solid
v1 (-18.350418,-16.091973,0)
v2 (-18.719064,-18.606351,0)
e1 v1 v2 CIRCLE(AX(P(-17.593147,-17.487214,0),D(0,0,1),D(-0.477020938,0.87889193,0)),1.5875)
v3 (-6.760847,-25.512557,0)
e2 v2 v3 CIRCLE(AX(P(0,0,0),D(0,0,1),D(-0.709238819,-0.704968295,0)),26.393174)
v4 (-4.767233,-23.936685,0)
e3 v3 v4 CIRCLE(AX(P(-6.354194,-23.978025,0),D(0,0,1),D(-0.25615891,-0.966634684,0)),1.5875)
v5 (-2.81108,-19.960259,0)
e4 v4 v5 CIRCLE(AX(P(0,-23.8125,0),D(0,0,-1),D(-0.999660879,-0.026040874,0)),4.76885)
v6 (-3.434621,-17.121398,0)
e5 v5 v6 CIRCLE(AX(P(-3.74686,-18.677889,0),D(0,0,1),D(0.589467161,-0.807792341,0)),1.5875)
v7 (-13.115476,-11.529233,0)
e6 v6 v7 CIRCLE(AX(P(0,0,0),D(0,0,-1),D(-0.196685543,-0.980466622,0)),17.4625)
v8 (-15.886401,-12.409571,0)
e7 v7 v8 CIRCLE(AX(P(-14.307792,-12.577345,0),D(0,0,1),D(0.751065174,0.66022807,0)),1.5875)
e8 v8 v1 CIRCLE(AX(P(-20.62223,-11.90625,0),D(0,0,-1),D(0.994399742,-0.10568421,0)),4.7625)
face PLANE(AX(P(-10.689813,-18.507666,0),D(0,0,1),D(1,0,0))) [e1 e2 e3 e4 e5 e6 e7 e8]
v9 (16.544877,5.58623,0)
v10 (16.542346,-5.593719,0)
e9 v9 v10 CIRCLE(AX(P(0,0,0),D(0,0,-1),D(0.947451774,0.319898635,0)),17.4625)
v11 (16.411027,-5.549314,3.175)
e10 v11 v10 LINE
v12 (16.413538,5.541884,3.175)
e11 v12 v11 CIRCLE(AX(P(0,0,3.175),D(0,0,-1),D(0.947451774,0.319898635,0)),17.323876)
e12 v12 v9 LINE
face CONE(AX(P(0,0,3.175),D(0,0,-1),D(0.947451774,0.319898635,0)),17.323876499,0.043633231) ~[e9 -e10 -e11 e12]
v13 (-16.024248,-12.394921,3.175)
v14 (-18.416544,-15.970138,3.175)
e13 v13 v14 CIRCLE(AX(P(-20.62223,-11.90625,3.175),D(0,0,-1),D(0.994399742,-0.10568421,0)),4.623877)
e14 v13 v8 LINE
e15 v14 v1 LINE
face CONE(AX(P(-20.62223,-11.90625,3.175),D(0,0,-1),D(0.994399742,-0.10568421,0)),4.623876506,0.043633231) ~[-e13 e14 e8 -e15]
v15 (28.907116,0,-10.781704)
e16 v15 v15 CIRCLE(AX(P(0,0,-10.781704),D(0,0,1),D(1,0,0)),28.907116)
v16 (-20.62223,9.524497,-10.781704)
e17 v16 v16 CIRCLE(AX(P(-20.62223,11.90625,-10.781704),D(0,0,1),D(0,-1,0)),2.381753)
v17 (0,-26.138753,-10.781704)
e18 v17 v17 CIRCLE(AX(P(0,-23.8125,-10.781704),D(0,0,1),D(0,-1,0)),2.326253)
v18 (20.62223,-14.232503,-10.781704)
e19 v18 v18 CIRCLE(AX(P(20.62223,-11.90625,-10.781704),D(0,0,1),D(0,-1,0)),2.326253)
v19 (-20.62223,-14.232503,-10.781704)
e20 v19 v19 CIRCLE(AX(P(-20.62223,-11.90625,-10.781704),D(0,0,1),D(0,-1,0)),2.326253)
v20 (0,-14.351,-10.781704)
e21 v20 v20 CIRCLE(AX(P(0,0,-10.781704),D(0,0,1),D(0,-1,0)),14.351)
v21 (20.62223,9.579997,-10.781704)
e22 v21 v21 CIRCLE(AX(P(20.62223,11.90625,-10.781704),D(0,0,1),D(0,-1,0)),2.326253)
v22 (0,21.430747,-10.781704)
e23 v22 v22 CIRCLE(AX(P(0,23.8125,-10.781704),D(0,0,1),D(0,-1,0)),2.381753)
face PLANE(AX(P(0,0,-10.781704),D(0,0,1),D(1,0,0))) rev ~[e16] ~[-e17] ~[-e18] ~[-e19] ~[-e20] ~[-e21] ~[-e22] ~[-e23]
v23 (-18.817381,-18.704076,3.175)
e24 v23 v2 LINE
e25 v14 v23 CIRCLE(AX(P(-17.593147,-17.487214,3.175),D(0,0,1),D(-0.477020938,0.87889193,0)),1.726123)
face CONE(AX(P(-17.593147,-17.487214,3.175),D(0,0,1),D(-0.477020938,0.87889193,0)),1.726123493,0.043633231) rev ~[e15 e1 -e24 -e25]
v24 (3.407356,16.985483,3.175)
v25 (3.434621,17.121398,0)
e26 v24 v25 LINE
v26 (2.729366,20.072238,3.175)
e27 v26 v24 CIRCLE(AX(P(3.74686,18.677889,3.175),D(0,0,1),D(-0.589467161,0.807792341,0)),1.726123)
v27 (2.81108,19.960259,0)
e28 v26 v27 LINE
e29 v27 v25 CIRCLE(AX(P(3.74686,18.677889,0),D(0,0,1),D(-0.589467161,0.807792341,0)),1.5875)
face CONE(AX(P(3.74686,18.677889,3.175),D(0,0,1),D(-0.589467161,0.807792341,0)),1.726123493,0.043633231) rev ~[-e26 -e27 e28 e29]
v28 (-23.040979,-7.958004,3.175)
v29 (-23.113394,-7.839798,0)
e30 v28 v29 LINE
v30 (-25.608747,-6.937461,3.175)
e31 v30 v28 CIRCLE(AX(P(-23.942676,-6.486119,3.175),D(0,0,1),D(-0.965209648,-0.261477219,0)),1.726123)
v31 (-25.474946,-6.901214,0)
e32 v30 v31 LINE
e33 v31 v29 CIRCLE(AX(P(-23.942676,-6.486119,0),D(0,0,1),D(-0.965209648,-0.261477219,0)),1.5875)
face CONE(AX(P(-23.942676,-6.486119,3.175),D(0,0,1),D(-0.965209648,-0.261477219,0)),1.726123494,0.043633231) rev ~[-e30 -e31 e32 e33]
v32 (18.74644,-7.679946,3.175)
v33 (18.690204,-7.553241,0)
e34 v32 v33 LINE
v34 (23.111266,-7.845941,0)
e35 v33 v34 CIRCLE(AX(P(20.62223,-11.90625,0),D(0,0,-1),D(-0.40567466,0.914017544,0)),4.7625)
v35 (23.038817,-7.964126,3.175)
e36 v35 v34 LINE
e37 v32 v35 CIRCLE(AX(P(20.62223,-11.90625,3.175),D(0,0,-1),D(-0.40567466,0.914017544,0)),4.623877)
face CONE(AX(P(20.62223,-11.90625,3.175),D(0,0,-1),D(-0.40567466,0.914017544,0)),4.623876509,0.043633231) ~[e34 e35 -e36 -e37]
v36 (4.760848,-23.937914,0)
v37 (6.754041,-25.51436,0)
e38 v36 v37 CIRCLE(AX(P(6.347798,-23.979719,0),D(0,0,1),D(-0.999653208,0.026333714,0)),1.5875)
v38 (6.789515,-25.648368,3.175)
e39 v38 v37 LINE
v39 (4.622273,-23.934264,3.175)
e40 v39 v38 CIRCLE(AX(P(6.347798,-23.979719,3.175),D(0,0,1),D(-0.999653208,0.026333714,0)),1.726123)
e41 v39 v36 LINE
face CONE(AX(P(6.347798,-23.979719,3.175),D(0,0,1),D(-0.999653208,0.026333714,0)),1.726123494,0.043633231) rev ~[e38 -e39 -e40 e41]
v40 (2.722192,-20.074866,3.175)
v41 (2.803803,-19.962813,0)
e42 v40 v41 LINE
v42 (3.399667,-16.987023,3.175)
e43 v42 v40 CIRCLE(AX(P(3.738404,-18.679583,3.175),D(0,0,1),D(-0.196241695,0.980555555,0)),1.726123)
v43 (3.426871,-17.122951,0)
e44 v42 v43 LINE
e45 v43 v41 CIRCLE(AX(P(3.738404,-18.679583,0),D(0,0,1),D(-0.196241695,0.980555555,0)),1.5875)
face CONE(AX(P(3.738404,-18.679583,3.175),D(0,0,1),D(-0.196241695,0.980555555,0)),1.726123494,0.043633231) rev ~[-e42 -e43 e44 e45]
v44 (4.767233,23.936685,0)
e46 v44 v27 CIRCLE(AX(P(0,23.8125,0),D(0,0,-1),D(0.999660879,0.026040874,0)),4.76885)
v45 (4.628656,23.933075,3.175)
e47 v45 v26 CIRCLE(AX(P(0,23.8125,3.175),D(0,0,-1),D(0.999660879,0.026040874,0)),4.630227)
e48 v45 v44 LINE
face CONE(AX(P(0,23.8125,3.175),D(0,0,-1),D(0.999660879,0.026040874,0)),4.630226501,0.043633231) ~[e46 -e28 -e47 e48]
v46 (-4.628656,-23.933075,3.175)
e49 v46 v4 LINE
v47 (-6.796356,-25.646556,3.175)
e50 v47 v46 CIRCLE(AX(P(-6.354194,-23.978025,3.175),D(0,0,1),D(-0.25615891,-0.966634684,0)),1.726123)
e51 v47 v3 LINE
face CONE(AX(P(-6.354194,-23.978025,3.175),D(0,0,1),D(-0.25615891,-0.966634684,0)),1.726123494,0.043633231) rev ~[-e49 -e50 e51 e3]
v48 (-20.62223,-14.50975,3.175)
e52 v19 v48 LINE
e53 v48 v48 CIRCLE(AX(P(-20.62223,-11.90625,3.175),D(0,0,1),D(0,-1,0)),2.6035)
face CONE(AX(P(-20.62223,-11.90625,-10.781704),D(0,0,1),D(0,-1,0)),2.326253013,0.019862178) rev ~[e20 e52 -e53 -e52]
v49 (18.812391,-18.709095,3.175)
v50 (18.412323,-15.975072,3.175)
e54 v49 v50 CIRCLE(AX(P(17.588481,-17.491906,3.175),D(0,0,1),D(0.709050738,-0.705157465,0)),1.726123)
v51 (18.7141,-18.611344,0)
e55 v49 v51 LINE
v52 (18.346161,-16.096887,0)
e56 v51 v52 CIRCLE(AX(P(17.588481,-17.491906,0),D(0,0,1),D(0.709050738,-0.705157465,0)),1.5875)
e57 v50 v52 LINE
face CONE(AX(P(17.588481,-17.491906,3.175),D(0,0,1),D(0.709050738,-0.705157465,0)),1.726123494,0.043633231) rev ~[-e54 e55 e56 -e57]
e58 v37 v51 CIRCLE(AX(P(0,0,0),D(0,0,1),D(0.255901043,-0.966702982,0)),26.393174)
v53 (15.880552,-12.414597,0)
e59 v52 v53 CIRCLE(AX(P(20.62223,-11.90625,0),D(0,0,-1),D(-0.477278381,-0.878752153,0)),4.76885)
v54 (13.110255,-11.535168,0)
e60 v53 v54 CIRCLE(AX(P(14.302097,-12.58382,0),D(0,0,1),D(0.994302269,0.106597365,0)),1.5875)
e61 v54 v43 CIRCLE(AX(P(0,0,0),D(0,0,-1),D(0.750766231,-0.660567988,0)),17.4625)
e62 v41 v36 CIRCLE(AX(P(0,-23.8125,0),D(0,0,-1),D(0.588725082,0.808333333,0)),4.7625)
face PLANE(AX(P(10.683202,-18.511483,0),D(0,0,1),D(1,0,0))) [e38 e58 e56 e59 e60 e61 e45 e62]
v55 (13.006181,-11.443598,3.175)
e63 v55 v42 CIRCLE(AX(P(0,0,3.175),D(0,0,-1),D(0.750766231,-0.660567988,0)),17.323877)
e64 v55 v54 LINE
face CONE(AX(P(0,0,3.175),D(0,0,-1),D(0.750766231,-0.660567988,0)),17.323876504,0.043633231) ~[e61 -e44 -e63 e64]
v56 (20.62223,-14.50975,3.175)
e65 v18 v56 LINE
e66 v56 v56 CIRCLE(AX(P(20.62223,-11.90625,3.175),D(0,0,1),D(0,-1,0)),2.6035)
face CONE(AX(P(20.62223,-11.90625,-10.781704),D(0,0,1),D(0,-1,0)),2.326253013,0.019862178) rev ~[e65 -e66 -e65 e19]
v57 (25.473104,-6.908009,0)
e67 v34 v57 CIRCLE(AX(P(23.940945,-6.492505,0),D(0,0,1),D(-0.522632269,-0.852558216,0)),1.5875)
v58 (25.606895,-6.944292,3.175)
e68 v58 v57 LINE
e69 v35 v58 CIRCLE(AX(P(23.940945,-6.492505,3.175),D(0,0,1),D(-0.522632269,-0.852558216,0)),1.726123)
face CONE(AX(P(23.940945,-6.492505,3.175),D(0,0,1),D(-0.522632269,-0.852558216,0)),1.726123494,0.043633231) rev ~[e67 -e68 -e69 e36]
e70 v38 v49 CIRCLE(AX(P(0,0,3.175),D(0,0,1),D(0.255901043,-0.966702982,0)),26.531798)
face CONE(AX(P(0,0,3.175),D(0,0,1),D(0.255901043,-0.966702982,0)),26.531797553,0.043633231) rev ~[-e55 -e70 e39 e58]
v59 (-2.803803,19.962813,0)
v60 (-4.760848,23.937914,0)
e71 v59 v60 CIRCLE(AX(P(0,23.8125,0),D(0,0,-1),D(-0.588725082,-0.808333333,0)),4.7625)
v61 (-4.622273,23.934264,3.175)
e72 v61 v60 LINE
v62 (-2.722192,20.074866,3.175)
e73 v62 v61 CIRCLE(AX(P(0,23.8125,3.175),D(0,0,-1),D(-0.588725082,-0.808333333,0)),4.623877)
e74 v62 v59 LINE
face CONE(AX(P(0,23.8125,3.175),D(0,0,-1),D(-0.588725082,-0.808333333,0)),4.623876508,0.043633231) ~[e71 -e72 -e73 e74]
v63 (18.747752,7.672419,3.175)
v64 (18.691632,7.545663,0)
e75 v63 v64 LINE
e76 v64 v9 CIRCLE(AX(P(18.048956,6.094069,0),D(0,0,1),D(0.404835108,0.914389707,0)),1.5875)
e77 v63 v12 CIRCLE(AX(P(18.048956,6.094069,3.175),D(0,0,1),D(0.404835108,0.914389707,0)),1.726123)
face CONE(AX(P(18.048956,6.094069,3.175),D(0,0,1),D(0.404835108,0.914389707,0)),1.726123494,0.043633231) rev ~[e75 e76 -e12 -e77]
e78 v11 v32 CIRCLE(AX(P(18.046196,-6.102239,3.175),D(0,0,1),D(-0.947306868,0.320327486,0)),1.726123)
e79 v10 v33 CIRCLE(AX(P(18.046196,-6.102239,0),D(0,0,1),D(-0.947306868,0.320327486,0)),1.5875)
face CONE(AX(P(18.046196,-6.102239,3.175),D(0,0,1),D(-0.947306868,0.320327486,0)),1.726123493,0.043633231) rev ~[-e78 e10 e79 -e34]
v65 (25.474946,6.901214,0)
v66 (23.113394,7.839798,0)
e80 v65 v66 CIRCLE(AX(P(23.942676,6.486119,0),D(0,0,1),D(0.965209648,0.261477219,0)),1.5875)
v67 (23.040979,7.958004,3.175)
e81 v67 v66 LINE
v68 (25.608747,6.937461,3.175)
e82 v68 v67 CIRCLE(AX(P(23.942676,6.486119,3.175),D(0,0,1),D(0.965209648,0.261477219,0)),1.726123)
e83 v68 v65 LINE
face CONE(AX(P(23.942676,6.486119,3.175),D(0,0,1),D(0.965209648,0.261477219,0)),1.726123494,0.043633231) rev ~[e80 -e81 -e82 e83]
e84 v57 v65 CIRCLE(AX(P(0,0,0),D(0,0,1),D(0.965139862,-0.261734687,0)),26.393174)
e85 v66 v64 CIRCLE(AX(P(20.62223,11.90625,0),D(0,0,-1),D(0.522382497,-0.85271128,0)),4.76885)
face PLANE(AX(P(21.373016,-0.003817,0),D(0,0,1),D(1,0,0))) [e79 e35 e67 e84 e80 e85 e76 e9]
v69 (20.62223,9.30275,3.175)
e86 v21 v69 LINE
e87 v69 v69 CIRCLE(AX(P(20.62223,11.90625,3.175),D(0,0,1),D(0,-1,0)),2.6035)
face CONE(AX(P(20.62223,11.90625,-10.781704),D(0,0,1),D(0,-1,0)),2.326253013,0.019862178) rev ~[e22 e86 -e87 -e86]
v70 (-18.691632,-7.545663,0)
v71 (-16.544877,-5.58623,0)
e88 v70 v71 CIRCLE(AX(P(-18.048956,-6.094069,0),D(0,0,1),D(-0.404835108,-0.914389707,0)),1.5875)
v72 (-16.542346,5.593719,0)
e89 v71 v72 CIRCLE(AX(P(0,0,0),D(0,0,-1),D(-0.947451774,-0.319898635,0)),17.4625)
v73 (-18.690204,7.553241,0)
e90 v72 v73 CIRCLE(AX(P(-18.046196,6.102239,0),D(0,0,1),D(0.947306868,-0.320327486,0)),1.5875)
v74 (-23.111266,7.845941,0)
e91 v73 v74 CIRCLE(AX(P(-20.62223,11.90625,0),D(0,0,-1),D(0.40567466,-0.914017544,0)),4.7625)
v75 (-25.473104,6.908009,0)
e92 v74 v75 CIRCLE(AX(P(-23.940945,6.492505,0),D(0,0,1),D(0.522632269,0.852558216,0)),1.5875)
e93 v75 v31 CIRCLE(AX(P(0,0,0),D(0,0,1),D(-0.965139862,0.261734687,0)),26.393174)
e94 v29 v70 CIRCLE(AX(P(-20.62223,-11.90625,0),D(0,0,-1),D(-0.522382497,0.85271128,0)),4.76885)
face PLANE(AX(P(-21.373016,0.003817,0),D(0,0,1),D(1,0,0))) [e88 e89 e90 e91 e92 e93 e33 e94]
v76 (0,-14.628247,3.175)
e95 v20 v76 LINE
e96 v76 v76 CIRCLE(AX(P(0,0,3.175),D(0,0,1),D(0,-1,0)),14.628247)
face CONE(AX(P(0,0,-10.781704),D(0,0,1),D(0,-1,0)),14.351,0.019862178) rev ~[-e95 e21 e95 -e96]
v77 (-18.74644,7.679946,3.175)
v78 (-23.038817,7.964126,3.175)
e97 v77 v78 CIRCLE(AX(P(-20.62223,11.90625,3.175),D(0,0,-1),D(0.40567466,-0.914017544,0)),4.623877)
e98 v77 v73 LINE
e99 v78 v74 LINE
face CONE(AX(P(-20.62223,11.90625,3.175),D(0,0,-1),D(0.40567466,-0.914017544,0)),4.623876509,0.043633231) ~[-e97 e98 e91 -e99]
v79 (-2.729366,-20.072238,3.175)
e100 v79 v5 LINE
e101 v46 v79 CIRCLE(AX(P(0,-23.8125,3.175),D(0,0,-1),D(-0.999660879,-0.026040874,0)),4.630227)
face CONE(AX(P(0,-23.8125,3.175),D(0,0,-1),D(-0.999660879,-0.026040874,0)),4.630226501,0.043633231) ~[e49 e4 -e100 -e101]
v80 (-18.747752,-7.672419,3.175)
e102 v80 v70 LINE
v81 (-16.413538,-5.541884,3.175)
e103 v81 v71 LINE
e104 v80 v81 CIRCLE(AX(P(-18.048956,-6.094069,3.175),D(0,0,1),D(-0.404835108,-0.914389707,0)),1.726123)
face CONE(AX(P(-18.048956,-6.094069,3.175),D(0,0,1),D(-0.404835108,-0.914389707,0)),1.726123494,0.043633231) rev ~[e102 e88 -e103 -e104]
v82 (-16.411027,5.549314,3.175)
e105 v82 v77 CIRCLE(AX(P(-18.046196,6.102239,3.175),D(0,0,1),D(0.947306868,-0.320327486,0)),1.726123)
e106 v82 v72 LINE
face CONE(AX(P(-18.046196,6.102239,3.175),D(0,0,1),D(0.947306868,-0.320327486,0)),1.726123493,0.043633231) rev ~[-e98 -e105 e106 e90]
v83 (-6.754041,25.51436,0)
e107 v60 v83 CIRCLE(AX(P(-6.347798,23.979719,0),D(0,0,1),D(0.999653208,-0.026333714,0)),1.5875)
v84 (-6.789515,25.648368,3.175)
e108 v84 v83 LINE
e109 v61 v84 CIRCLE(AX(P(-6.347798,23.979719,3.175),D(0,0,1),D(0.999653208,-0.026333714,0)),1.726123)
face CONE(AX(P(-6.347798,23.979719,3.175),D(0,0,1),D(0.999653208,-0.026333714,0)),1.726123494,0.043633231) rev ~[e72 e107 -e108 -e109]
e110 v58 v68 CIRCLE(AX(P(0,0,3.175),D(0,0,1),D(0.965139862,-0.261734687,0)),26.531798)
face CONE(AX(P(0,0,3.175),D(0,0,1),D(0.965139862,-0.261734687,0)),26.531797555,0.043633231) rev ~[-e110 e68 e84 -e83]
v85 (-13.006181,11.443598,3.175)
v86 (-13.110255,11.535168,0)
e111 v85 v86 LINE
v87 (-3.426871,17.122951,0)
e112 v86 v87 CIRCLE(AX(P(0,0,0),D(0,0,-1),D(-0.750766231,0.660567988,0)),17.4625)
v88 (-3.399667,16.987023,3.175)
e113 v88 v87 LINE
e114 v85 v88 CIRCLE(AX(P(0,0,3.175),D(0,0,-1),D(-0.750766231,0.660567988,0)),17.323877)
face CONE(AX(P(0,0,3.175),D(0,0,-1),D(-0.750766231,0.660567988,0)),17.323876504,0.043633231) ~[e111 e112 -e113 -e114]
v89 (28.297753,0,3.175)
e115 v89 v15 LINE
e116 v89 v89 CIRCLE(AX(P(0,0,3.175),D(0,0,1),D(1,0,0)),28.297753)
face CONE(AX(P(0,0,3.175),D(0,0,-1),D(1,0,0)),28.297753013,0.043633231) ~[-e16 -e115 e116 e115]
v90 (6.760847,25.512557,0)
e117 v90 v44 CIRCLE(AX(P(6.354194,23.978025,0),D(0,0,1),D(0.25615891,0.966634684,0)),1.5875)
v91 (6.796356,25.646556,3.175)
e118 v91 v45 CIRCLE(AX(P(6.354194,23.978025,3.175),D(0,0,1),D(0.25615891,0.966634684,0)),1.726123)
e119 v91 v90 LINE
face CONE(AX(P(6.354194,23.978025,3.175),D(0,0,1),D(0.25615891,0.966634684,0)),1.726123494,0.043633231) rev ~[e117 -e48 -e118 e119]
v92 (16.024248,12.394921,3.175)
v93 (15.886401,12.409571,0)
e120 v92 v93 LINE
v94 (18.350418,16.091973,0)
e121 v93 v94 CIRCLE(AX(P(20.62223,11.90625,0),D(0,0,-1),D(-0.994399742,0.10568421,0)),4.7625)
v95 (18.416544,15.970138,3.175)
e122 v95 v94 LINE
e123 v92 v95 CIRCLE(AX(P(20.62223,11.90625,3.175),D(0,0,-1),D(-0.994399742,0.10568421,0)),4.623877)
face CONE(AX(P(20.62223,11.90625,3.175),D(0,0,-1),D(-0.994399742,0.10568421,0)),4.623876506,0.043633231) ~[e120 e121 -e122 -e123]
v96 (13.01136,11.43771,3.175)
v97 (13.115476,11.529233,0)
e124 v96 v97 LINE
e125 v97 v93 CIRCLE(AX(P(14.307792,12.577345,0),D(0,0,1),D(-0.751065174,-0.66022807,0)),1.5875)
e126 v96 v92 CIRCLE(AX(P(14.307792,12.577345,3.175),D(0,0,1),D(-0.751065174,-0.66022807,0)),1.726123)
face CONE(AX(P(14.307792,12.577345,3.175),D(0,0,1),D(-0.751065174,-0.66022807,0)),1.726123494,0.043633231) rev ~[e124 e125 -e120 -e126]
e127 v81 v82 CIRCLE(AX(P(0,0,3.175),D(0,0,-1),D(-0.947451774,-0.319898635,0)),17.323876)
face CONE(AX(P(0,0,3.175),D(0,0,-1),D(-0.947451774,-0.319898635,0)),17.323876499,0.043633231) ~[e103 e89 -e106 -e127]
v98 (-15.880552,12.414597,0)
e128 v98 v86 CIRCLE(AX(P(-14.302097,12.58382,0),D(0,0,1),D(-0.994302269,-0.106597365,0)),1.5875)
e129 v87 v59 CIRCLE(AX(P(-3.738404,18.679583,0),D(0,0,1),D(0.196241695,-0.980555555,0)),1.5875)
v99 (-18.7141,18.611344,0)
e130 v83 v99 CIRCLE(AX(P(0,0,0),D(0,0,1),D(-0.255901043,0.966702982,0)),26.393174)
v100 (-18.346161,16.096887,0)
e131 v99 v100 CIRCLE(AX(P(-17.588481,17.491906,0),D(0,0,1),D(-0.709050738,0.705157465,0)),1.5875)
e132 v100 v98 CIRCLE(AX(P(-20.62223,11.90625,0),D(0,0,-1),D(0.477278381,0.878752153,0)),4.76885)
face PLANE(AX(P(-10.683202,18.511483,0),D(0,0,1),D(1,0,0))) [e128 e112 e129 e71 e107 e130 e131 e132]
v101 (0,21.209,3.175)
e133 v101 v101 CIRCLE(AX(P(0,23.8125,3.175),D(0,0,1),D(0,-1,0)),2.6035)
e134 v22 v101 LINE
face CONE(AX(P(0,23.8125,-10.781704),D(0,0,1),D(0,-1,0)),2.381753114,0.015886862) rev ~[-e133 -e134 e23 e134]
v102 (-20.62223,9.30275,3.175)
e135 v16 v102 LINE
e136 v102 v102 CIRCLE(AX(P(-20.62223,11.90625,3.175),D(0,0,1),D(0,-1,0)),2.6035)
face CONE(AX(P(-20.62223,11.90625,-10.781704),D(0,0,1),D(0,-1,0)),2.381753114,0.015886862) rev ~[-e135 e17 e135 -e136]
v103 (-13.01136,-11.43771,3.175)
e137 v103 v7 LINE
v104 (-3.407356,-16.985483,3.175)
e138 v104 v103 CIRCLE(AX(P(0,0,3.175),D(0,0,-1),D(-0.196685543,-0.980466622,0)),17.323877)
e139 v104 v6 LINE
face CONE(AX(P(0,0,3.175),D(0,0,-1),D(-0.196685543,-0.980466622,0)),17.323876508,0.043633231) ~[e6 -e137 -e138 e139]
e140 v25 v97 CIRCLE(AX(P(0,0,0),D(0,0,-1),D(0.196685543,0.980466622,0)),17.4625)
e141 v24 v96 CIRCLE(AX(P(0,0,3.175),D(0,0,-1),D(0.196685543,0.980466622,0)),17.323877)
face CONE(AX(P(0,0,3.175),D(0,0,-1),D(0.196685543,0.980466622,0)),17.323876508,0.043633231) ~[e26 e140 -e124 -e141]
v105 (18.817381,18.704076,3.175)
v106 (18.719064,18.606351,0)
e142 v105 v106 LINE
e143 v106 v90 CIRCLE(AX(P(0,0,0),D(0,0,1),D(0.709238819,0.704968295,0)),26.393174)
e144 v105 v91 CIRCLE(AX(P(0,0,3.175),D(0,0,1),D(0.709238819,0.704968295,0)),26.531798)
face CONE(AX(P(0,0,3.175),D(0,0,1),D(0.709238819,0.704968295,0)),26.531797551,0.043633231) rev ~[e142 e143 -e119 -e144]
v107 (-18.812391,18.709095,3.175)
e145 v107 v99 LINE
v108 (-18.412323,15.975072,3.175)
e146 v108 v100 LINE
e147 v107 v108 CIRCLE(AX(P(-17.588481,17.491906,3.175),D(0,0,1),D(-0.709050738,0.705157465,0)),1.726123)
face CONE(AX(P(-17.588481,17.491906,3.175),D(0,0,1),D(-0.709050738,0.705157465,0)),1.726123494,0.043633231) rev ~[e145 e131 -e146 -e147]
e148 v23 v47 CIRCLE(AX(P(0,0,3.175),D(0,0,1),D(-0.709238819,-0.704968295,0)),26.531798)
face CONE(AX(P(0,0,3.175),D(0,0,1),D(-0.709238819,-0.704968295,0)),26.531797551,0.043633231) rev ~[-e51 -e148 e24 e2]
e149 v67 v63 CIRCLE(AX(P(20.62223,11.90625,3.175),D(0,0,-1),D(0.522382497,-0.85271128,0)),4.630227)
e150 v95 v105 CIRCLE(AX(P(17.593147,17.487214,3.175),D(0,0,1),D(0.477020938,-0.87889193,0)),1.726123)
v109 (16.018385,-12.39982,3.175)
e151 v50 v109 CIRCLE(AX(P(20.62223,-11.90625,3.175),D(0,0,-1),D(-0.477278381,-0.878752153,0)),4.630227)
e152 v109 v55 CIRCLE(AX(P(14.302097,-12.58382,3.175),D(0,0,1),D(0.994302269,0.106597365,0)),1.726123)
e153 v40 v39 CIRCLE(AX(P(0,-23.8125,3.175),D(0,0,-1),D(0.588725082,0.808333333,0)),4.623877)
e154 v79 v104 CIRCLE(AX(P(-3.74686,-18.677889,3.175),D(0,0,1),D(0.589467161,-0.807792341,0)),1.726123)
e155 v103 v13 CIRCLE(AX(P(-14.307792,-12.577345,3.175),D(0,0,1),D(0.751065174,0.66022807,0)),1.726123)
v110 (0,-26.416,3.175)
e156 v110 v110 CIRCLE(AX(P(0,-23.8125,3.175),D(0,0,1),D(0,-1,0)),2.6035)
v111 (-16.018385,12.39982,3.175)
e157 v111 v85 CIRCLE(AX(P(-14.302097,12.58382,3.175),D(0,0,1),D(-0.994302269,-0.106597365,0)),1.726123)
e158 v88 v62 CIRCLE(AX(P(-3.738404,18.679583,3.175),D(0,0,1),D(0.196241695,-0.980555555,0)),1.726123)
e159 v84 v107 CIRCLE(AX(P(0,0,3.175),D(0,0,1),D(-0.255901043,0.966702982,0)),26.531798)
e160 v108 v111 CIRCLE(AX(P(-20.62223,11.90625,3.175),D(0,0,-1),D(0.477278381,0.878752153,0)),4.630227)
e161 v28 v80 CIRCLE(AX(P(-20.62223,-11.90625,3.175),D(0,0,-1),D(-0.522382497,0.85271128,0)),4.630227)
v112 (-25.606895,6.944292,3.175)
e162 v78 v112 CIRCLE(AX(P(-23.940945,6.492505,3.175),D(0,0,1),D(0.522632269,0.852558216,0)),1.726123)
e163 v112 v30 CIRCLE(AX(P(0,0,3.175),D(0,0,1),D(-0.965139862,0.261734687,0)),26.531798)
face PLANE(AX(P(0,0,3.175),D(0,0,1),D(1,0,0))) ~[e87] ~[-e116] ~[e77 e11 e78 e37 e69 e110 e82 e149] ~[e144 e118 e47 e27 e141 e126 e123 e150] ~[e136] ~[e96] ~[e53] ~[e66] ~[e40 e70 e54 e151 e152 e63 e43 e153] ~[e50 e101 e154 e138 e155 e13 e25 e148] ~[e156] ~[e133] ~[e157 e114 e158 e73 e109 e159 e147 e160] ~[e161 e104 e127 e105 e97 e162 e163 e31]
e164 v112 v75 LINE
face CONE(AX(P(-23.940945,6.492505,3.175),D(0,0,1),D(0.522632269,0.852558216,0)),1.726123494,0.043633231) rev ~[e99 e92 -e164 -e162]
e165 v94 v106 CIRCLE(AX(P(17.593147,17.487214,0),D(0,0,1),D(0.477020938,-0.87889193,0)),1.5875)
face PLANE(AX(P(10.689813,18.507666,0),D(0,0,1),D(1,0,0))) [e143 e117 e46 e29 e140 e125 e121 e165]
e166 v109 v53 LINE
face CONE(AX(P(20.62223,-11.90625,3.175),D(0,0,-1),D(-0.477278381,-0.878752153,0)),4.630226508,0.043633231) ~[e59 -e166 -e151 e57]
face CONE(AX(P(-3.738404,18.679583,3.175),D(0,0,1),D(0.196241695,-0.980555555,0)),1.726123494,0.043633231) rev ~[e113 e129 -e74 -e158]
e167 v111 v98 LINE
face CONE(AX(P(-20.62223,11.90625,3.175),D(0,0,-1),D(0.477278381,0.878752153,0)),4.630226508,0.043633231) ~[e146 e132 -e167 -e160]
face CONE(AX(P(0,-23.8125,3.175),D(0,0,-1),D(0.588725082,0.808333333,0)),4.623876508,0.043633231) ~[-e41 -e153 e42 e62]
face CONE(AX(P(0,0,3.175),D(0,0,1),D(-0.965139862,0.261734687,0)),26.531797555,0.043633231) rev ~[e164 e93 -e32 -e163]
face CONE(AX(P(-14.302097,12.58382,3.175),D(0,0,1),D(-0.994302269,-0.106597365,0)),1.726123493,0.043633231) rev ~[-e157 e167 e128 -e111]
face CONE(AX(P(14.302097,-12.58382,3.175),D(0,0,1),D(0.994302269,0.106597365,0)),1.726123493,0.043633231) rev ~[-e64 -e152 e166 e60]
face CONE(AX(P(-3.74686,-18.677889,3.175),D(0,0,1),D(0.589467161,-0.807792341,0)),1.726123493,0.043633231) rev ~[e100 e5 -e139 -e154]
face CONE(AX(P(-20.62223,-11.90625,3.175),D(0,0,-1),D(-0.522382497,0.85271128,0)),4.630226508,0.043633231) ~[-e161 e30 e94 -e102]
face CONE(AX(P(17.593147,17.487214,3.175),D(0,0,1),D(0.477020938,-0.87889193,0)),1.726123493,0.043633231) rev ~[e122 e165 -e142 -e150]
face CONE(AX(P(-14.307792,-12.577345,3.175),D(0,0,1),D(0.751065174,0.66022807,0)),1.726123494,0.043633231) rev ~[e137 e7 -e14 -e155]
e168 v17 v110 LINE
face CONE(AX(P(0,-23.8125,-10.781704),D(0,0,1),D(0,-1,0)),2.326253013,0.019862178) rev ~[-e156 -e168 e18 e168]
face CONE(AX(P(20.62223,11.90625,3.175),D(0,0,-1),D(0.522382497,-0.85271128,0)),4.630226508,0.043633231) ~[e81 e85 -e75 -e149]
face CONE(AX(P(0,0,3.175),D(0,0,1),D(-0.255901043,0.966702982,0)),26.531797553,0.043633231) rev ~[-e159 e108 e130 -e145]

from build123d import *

# Parameters (mm, degrees)
CUT_EXTRUDE1_DEPTH = 3.175
CUT_EXTRUDE1_DRAFT = -2.499999997
CUT_EXTRUDE2_DEPTH = 3.175
CUT_EXTRUDE2_DRAFT = -2.499999997
CUT_EXTRUDE3_DEPTH = 3.175
CUT_EXTRUDE3_DRAFT = -2.499999997
CUT_EXTRUDE4_DEPTH = 3.175
CUT_EXTRUDE4_DRAFT = -2.499999997
CUT_EXTRUDE5_DEPTH = 3.175
CUT_EXTRUDE5_DRAFT = -2.499999997
CUT_EXTRUDE6_DEPTH = 3.175
CUT_EXTRUDE6_DRAFT = -2.499999997
HOLE1_AT_2_COUNT   = 2
HOLE1_AT_2_PITCH   = 23.8125
HOLE1_AT_3_COUNT   = 2
HOLE1_AT_3_PITCH   = 41.244459855
HOLE1_AT_4_COUNT   = 2
HOLE1_AT_4_PITCH   = 47.625
HOLE3_AT_2_COUNT   = 2
HOLE3_AT_2_PITCH   = 23.8125


with BuildPart() as part:
    # Sketch1 → Revolve1 (revolve)
    with BuildSketch(Plane(origin=(0, 0, 0), x_dir=(1, 0, 0), z_dir=(0, 1, 0))):
        Polygon((28.907115854, 10.781703656), (0, 10.781703656), (0, -3.175), (28.297753013, -3.175), align=None)
    revolve(axis=Axis((0, 0, -10.781703656), (0, 0, 1)))


with BuildPart() as cut_extrude1_tool:
    # Sketch2 → Cut-Extrude1 (with draft: the straight prism first)
    with BuildSketch(Plane.XY.offset(3.175)):
        with BuildLine():
            ThreePointArc((-18.412322915, 15.975071512), (-16.774840019, 14.48240768), (-16.018385207, 12.399819948))
            ThreePointArc((-16.018385207, 12.399819948), (-14.824369054, 10.938604706), (-13.006181472, 11.443598242))
            ThreePointArc((-13.006181472, 11.443598242), (-8.658542341, 15.004877265), (-3.399666872, 16.987023352))
            ThreePointArc((-3.399666872, 16.987023352), (-2.052383538, 18.309669286), (-2.722192076, 20.074866491))
            ThreePointArc((-2.722192076, 20.074866491), (-4.148376637, 21.770147136), (-4.622272981, 23.934263844))
            ThreePointArc((-4.622272981, 23.934263844), (-5.27701362, 25.333574104), (-6.789514671, 25.648367816))
            ThreePointArc((-6.789514671, 25.648367816), (-13.262833976, 22.978979873), (-18.812390624, 18.709095117))
            ThreePointArc((-18.812390624, 18.709095117), (-19.296416457, 17.241985352), (-18.412322915, 15.975071512))
        make_face()
    extrude(amount=-CUT_EXTRUDE1_DEPTH)
    # Cut-Extrude1: the draft: its side faces are tilted about the plane it starts from
    cut_extrude1_sides = [cut_extrude1_tool.faces().sort_by_distance(p)[0] for p in [
        (-19.296416457, 17.241985352, 1.5875),
        (-16.774840019, 14.48240768, 1.5875),
        (-14.824369054, 10.938604706, 1.5875),
        (-8.658542341, 15.004877265, 1.5875),
        (-2.052383538, 18.309669286, 1.5875),
        (-4.148376637, 21.770147136, 1.5875),
        (-5.27701362, 25.333574104, 1.5875),
        (-13.262833976, 22.978979873, 1.5875),
    ]]
    draft(cut_extrude1_sides, Plane.XY.offset(3.175), CUT_EXTRUDE1_DRAFT)


with BuildPart() as part_1:
    add(part.part)

    # Cut-Extrude1: cut by cut_extrude1_tool
    add(cut_extrude1_tool.part, mode=Mode.SUBTRACT)


with BuildPart() as cut_extrude2_tool:
    # Sketch3 → Cut-Extrude2 (with draft: the straight prism first)
    with BuildSketch(Plane.XY.offset(3.175)):
        with BuildLine():
            ThreePointArc((4.628656299, 23.933075143), (4.15471295, 21.768641441), (2.729366473, 20.072238491))
            ThreePointArc((2.729366473, 20.072238491), (2.06092503, 18.307582549), (3.407356052, 16.985482682))
            ThreePointArc((3.407356052, 16.985482682), (8.665333722, 15.000956259), (13.011360321, 11.437709552))
            ThreePointArc((13.011360321, 11.437709552), (14.830446967, 10.932250925), (16.024248321, 12.394920737))
            ThreePointArc((16.024248321, 12.394920737), (16.779312145, 14.47767312), (18.416544019, 15.970137747))
            ThreePointArc((18.416544019, 15.970137747), (19.301011933, 17.236814903), (18.817380759, 18.704076092))
            ThreePointArc((18.817380759, 18.704076092), (13.268963335, 22.975441086), (6.796356341, 25.646555745))
            ThreePointArc((6.796356341, 25.646555745), (5.283789098, 25.33217953), (4.628656299, 23.933075143))
        make_face()
    extrude(amount=-CUT_EXTRUDE2_DEPTH)
    # Cut-Extrude2: the draft: its side faces are tilted about the plane it starts from
    cut_extrude2_sides = [cut_extrude2_tool.faces().sort_by_distance(p)[0] for p in [
        (5.283789098, 25.33217953, 1.5875),
        (4.15471295, 21.768641441, 1.5875),
        (2.06092503, 18.307582549, 1.5875),
        (8.665333722, 15.000956259, 1.5875),
        (14.830446967, 10.932250925, 1.5875),
        (16.779312145, 14.47767312, 1.5875),
        (19.301011933, 17.236814903, 1.5875),
        (13.268963335, 22.975441086, 1.5875),
    ]]
    draft(cut_extrude2_sides, Plane.XY.offset(3.175), CUT_EXTRUDE2_DRAFT)


with BuildPart() as part_2:
    add(part_1.part)

    # Cut-Extrude2: cut by cut_extrude2_tool
    add(cut_extrude2_tool.part, mode=Mode.SUBTRACT)


with BuildPart() as cut_extrude3_tool:
    # Sketch4 → Cut-Extrude3 (with draft: the straight prism first)
    with BuildSketch(Plane.XY.offset(3.175)):
        with BuildLine():
            ThreePointArc((23.040979214, 7.958003631), (20.929552969, 7.286233761), (18.747751681, 7.672418543))
            ThreePointArc((18.747751681, 7.672418543), (16.885294085, 7.368977843), (16.413537524, 5.54188444))
            ThreePointArc((16.413537524, 5.54188444), (17.323876063, -0.003921006), (16.411027194, -5.5493138))
            ThreePointArc((16.411027194, -5.5493138), (16.882830505, -7.377418361), (18.746440396, -7.679945754))
            ThreePointArc((18.746440396, -7.679945754), (20.927688782, -7.292474016), (23.038817, -7.964126097))
            ThreePointArc((23.038817, -7.964126097), (24.578025553, -8.096759201), (25.60689543, -6.944291723))
            ThreePointArc((25.60689543, -6.944291723), (26.531797311, -0.003538787), (25.608746965, 6.937460628))
            ThreePointArc((25.608746965, 6.937460628), (24.580205555, 8.090194178), (23.040979214, 7.958003631))
        make_face()
    extrude(amount=-CUT_EXTRUDE3_DEPTH)
    # Cut-Extrude3: the draft: its side faces are tilted about the plane it starts from
    cut_extrude3_sides = [cut_extrude3_tool.faces().sort_by_distance(p)[0] for p in [
        (26.531797311, -0.003538787, 1.5875),
        (24.580205555, 8.090194178, 1.5875),
        (20.929552969, 7.286233761, 1.5875),
        (16.885294085, 7.368977843, 1.5875),
        (17.323876063, -0.003921006, 1.5875),
        (16.882830505, -7.377418361, 1.5875),
        (20.927688782, -7.292474016, 1.5875),
        (24.578025553, -8.096759201, 1.5875),
    ]]
    draft(cut_extrude3_sides, Plane.XY.offset(3.175), CUT_EXTRUDE3_DRAFT)


with BuildPart() as part_3:
    add(part_2.part)

    # Cut-Extrude3: cut by cut_extrude3_tool
    add(cut_extrude3_tool.part, mode=Mode.SUBTRACT)


with BuildPart() as cut_extrude4_tool:
    # Sketch5 → Cut-Extrude4 (with draft: the straight prism first)
    with BuildSketch(Plane.XY.offset(3.175)):
        with BuildLine():
            ThreePointArc((18.412322915, -15.975071512), (16.774840019, -14.48240768), (16.018385207, -12.399819948))
            ThreePointArc((16.018385207, -12.399819948), (14.824369054, -10.938604706), (13.006181472, -11.443598242))
            ThreePointArc((13.006181472, -11.443598242), (8.658542341, -15.004877265), (3.399666872, -16.987023352))
            ThreePointArc((3.399666872, -16.987023352), (2.052383538, -18.309669286), (2.722192076, -20.074866491))
            ThreePointArc((2.722192076, -20.074866491), (4.148376637, -21.770147136), (4.622272981, -23.934263844))
            ThreePointArc((4.622272981, -23.934263844), (5.27701362, -25.333574104), (6.789514671, -25.648367816))
            ThreePointArc((6.789514671, -25.648367816), (13.262833976, -22.978979873), (18.812390624, -18.709095117))
            ThreePointArc((18.812390624, -18.709095117), (19.296416457, -17.241985352), (18.412322915, -15.975071512))
        make_face()
    extrude(amount=-CUT_EXTRUDE4_DEPTH)
    # Cut-Extrude4: the draft: its side faces are tilted about the plane it starts from
    cut_extrude4_sides = [cut_extrude4_tool.faces().sort_by_distance(p)[0] for p in [
        (19.296416457, -17.241985352, 1.5875),
        (16.774840019, -14.48240768, 1.5875),
        (14.824369054, -10.938604706, 1.5875),
        (8.658542341, -15.004877265, 1.5875),
        (2.052383538, -18.309669286, 1.5875),
        (4.148376637, -21.770147136, 1.5875),
        (5.27701362, -25.333574104, 1.5875),
        (13.262833976, -22.978979873, 1.5875),
    ]]
    draft(cut_extrude4_sides, Plane.XY.offset(3.175), CUT_EXTRUDE4_DRAFT)


with BuildPart() as part_4:
    add(part_3.part)

    # Cut-Extrude4: cut by cut_extrude4_tool
    add(cut_extrude4_tool.part, mode=Mode.SUBTRACT)


with BuildPart() as cut_extrude5_tool:
    # Sketch6 → Cut-Extrude5 (with draft: the straight prism first)
    with BuildSketch(Plane.XY.offset(3.175)):
        with BuildLine():
            ThreePointArc((-4.628656299, -23.933075143), (-4.15471295, -21.768641441), (-2.729366473, -20.072238491))
            ThreePointArc((-2.729366473, -20.072238491), (-2.06092503, -18.307582549), (-3.407356052, -16.985482682))
            ThreePointArc((-3.407356052, -16.985482682), (-8.665333722, -15.000956259), (-13.011360321, -11.437709552))
            ThreePointArc((-13.011360321, -11.437709552), (-14.830446967, -10.932250925), (-16.024248321, -12.394920737))
            ThreePointArc((-16.024248321, -12.394920737), (-16.779312145, -14.47767312), (-18.416544019, -15.970137747))
            ThreePointArc((-18.416544019, -15.970137747), (-19.301011933, -17.236814903), (-18.817380759, -18.704076092))
            ThreePointArc((-18.817380759, -18.704076092), (-13.268963335, -22.975441086), (-6.796356341, -25.646555745))
            ThreePointArc((-6.796356341, -25.646555745), (-5.283789098, -25.33217953), (-4.628656299, -23.933075143))
        make_face()
    extrude(amount=-CUT_EXTRUDE5_DEPTH)
    # Cut-Extrude5: the draft: its side faces are tilted about the plane it starts from
    cut_extrude5_sides = [cut_extrude5_tool.faces().sort_by_distance(p)[0] for p in [
        (-5.283789098, -25.33217953, 1.5875),
        (-4.15471295, -21.768641441, 1.5875),
        (-2.06092503, -18.307582549, 1.5875),
        (-8.665333722, -15.000956259, 1.5875),
        (-14.830446967, -10.932250925, 1.5875),
        (-16.779312145, -14.47767312, 1.5875),
        (-19.301011933, -17.236814903, 1.5875),
        (-13.268963335, -22.975441086, 1.5875),
    ]]
    draft(cut_extrude5_sides, Plane.XY.offset(3.175), CUT_EXTRUDE5_DRAFT)


with BuildPart() as part_5:
    add(part_4.part)

    # Cut-Extrude5: cut by cut_extrude5_tool
    add(cut_extrude5_tool.part, mode=Mode.SUBTRACT)


with BuildPart() as cut_extrude6_tool:
    # Sketch7 → Cut-Extrude6 (with draft: the straight prism first)
    with BuildSketch(Plane.XY.offset(3.175)):
        with BuildLine():
            ThreePointArc((-23.040979214, -7.958003631), (-20.929552969, -7.286233761), (-18.747751681, -7.672418543))
            ThreePointArc((-18.747751681, -7.672418543), (-16.885294085, -7.368977843), (-16.413537524, -5.54188444))
            ThreePointArc((-16.413537524, -5.54188444), (-17.323876063, 0.003921006), (-16.411027194, 5.5493138))
            ThreePointArc((-16.411027194, 5.5493138), (-16.882830505, 7.377418361), (-18.746440396, 7.679945754))
            ThreePointArc((-18.746440396, 7.679945754), (-20.927688782, 7.292474016), (-23.038817, 7.964126097))
            ThreePointArc((-23.038817, 7.964126097), (-24.578025553, 8.096759201), (-25.60689543, 6.944291723))
            ThreePointArc((-25.60689543, 6.944291723), (-26.531797311, 0.003538787), (-25.608746965, -6.937460628))
            ThreePointArc((-25.608746965, -6.937460628), (-24.580205555, -8.090194178), (-23.040979214, -7.958003631))
        make_face()
    extrude(amount=-CUT_EXTRUDE6_DEPTH)
    # Cut-Extrude6: the draft: its side faces are tilted about the plane it starts from
    cut_extrude6_sides = [cut_extrude6_tool.faces().sort_by_distance(p)[0] for p in [
        (-24.580205555, -8.090194178, 1.5875),
        (-20.929552969, -7.286233761, 1.5875),
        (-16.885294085, -7.368977843, 1.5875),
        (-17.323876063, 0.003921006, 1.5875),
        (-16.882830505, 7.377418361, 1.5875),
        (-20.927688782, 7.292474016, 1.5875),
        (-24.578025553, 8.096759201, 1.5875),
        (-26.531797311, 0.003538787, 1.5875),
    ]]
    draft(cut_extrude6_sides, Plane.XY.offset(3.175), CUT_EXTRUDE6_DRAFT)


with BuildPart() as part_6:
    add(part_5.part)

    # Cut-Extrude6: cut by cut_extrude6_tool
    add(cut_extrude6_tool.part, mode=Mode.SUBTRACT)

    # Sketch8 → Hole1 (revolve, cut)
    with BuildSketch(Plane(origin=(20.622229928, 11.90625, 3.175), x_dir=(0, -1, 0), z_dir=(1, 0, 0))):
        Polygon((0, 0), (0, 13.956703656), (2.326253013, 13.956703656), (2.6035, 0), align=None)
    hole1 = revolve(axis=Axis((20.622229928, 11.90625, -106.825), (0, 0, 1)), mode=Mode.SUBTRACT)

    # Hole1 at 2: Hole1 ×2
    with Locations(*[(0, -i * HOLE1_AT_2_PITCH, 0) for i in range(1, HOLE1_AT_2_COUNT)]):
        add(hole1, mode=Mode.SUBTRACT)

    # Hole1 at 3: Hole1 ×2
    with Locations(*[Vector(-0.500000000000001, -0.866025403784438, 0) * (i * HOLE1_AT_3_PITCH) for i in range(1, HOLE1_AT_3_COUNT)]):
        add(hole1, mode=Mode.SUBTRACT)

    # Hole1 at 4: Hole1 ×2
    with Locations(*[Vector(-0.8660254037844387, -0.49999999999999994, 0) * (i * HOLE1_AT_4_PITCH) for i in range(1, HOLE1_AT_4_COUNT)]):
        add(hole1, mode=Mode.SUBTRACT)

    # Sketch10 → Hole2 (revolve, cut)
    with BuildSketch(Plane(origin=(0, 0, 3.175), x_dir=(0, -1, 0), z_dir=(1, 0, 0))):
        Polygon((0, 0), (0, 13.956703656), (14.351, 13.956703656), (14.628246987, 0), align=None)
    revolve(axis=Axis((0, 0, -106.825), (0, 0, 1)), mode=Mode.SUBTRACT)

    # Sketch12 → Hole3 (revolve, cut)
    with BuildSketch(Plane(origin=(-20.622229928, 11.90625, 3.175), x_dir=(0, -1, 0), z_dir=(1, 0, 0))):
        Polygon((0, 0), (0, 13.956703656), (2.381753114, 13.956703656), (2.6035, 0), align=None)
    hole3 = revolve(axis=Axis((-20.622229928, 11.90625, -106.825), (0, 0, 1)), mode=Mode.SUBTRACT)

    # Hole3 at 2: Hole3 ×2
    with Locations(*[Vector(0.8660254037844383, 0.5000000000000009, 0) * (i * HOLE3_AT_2_PITCH) for i in range(1, HOLE3_AT_2_COUNT)]):
        add(hole3, mode=Mode.SUBTRACT)


solid = part_6.part
